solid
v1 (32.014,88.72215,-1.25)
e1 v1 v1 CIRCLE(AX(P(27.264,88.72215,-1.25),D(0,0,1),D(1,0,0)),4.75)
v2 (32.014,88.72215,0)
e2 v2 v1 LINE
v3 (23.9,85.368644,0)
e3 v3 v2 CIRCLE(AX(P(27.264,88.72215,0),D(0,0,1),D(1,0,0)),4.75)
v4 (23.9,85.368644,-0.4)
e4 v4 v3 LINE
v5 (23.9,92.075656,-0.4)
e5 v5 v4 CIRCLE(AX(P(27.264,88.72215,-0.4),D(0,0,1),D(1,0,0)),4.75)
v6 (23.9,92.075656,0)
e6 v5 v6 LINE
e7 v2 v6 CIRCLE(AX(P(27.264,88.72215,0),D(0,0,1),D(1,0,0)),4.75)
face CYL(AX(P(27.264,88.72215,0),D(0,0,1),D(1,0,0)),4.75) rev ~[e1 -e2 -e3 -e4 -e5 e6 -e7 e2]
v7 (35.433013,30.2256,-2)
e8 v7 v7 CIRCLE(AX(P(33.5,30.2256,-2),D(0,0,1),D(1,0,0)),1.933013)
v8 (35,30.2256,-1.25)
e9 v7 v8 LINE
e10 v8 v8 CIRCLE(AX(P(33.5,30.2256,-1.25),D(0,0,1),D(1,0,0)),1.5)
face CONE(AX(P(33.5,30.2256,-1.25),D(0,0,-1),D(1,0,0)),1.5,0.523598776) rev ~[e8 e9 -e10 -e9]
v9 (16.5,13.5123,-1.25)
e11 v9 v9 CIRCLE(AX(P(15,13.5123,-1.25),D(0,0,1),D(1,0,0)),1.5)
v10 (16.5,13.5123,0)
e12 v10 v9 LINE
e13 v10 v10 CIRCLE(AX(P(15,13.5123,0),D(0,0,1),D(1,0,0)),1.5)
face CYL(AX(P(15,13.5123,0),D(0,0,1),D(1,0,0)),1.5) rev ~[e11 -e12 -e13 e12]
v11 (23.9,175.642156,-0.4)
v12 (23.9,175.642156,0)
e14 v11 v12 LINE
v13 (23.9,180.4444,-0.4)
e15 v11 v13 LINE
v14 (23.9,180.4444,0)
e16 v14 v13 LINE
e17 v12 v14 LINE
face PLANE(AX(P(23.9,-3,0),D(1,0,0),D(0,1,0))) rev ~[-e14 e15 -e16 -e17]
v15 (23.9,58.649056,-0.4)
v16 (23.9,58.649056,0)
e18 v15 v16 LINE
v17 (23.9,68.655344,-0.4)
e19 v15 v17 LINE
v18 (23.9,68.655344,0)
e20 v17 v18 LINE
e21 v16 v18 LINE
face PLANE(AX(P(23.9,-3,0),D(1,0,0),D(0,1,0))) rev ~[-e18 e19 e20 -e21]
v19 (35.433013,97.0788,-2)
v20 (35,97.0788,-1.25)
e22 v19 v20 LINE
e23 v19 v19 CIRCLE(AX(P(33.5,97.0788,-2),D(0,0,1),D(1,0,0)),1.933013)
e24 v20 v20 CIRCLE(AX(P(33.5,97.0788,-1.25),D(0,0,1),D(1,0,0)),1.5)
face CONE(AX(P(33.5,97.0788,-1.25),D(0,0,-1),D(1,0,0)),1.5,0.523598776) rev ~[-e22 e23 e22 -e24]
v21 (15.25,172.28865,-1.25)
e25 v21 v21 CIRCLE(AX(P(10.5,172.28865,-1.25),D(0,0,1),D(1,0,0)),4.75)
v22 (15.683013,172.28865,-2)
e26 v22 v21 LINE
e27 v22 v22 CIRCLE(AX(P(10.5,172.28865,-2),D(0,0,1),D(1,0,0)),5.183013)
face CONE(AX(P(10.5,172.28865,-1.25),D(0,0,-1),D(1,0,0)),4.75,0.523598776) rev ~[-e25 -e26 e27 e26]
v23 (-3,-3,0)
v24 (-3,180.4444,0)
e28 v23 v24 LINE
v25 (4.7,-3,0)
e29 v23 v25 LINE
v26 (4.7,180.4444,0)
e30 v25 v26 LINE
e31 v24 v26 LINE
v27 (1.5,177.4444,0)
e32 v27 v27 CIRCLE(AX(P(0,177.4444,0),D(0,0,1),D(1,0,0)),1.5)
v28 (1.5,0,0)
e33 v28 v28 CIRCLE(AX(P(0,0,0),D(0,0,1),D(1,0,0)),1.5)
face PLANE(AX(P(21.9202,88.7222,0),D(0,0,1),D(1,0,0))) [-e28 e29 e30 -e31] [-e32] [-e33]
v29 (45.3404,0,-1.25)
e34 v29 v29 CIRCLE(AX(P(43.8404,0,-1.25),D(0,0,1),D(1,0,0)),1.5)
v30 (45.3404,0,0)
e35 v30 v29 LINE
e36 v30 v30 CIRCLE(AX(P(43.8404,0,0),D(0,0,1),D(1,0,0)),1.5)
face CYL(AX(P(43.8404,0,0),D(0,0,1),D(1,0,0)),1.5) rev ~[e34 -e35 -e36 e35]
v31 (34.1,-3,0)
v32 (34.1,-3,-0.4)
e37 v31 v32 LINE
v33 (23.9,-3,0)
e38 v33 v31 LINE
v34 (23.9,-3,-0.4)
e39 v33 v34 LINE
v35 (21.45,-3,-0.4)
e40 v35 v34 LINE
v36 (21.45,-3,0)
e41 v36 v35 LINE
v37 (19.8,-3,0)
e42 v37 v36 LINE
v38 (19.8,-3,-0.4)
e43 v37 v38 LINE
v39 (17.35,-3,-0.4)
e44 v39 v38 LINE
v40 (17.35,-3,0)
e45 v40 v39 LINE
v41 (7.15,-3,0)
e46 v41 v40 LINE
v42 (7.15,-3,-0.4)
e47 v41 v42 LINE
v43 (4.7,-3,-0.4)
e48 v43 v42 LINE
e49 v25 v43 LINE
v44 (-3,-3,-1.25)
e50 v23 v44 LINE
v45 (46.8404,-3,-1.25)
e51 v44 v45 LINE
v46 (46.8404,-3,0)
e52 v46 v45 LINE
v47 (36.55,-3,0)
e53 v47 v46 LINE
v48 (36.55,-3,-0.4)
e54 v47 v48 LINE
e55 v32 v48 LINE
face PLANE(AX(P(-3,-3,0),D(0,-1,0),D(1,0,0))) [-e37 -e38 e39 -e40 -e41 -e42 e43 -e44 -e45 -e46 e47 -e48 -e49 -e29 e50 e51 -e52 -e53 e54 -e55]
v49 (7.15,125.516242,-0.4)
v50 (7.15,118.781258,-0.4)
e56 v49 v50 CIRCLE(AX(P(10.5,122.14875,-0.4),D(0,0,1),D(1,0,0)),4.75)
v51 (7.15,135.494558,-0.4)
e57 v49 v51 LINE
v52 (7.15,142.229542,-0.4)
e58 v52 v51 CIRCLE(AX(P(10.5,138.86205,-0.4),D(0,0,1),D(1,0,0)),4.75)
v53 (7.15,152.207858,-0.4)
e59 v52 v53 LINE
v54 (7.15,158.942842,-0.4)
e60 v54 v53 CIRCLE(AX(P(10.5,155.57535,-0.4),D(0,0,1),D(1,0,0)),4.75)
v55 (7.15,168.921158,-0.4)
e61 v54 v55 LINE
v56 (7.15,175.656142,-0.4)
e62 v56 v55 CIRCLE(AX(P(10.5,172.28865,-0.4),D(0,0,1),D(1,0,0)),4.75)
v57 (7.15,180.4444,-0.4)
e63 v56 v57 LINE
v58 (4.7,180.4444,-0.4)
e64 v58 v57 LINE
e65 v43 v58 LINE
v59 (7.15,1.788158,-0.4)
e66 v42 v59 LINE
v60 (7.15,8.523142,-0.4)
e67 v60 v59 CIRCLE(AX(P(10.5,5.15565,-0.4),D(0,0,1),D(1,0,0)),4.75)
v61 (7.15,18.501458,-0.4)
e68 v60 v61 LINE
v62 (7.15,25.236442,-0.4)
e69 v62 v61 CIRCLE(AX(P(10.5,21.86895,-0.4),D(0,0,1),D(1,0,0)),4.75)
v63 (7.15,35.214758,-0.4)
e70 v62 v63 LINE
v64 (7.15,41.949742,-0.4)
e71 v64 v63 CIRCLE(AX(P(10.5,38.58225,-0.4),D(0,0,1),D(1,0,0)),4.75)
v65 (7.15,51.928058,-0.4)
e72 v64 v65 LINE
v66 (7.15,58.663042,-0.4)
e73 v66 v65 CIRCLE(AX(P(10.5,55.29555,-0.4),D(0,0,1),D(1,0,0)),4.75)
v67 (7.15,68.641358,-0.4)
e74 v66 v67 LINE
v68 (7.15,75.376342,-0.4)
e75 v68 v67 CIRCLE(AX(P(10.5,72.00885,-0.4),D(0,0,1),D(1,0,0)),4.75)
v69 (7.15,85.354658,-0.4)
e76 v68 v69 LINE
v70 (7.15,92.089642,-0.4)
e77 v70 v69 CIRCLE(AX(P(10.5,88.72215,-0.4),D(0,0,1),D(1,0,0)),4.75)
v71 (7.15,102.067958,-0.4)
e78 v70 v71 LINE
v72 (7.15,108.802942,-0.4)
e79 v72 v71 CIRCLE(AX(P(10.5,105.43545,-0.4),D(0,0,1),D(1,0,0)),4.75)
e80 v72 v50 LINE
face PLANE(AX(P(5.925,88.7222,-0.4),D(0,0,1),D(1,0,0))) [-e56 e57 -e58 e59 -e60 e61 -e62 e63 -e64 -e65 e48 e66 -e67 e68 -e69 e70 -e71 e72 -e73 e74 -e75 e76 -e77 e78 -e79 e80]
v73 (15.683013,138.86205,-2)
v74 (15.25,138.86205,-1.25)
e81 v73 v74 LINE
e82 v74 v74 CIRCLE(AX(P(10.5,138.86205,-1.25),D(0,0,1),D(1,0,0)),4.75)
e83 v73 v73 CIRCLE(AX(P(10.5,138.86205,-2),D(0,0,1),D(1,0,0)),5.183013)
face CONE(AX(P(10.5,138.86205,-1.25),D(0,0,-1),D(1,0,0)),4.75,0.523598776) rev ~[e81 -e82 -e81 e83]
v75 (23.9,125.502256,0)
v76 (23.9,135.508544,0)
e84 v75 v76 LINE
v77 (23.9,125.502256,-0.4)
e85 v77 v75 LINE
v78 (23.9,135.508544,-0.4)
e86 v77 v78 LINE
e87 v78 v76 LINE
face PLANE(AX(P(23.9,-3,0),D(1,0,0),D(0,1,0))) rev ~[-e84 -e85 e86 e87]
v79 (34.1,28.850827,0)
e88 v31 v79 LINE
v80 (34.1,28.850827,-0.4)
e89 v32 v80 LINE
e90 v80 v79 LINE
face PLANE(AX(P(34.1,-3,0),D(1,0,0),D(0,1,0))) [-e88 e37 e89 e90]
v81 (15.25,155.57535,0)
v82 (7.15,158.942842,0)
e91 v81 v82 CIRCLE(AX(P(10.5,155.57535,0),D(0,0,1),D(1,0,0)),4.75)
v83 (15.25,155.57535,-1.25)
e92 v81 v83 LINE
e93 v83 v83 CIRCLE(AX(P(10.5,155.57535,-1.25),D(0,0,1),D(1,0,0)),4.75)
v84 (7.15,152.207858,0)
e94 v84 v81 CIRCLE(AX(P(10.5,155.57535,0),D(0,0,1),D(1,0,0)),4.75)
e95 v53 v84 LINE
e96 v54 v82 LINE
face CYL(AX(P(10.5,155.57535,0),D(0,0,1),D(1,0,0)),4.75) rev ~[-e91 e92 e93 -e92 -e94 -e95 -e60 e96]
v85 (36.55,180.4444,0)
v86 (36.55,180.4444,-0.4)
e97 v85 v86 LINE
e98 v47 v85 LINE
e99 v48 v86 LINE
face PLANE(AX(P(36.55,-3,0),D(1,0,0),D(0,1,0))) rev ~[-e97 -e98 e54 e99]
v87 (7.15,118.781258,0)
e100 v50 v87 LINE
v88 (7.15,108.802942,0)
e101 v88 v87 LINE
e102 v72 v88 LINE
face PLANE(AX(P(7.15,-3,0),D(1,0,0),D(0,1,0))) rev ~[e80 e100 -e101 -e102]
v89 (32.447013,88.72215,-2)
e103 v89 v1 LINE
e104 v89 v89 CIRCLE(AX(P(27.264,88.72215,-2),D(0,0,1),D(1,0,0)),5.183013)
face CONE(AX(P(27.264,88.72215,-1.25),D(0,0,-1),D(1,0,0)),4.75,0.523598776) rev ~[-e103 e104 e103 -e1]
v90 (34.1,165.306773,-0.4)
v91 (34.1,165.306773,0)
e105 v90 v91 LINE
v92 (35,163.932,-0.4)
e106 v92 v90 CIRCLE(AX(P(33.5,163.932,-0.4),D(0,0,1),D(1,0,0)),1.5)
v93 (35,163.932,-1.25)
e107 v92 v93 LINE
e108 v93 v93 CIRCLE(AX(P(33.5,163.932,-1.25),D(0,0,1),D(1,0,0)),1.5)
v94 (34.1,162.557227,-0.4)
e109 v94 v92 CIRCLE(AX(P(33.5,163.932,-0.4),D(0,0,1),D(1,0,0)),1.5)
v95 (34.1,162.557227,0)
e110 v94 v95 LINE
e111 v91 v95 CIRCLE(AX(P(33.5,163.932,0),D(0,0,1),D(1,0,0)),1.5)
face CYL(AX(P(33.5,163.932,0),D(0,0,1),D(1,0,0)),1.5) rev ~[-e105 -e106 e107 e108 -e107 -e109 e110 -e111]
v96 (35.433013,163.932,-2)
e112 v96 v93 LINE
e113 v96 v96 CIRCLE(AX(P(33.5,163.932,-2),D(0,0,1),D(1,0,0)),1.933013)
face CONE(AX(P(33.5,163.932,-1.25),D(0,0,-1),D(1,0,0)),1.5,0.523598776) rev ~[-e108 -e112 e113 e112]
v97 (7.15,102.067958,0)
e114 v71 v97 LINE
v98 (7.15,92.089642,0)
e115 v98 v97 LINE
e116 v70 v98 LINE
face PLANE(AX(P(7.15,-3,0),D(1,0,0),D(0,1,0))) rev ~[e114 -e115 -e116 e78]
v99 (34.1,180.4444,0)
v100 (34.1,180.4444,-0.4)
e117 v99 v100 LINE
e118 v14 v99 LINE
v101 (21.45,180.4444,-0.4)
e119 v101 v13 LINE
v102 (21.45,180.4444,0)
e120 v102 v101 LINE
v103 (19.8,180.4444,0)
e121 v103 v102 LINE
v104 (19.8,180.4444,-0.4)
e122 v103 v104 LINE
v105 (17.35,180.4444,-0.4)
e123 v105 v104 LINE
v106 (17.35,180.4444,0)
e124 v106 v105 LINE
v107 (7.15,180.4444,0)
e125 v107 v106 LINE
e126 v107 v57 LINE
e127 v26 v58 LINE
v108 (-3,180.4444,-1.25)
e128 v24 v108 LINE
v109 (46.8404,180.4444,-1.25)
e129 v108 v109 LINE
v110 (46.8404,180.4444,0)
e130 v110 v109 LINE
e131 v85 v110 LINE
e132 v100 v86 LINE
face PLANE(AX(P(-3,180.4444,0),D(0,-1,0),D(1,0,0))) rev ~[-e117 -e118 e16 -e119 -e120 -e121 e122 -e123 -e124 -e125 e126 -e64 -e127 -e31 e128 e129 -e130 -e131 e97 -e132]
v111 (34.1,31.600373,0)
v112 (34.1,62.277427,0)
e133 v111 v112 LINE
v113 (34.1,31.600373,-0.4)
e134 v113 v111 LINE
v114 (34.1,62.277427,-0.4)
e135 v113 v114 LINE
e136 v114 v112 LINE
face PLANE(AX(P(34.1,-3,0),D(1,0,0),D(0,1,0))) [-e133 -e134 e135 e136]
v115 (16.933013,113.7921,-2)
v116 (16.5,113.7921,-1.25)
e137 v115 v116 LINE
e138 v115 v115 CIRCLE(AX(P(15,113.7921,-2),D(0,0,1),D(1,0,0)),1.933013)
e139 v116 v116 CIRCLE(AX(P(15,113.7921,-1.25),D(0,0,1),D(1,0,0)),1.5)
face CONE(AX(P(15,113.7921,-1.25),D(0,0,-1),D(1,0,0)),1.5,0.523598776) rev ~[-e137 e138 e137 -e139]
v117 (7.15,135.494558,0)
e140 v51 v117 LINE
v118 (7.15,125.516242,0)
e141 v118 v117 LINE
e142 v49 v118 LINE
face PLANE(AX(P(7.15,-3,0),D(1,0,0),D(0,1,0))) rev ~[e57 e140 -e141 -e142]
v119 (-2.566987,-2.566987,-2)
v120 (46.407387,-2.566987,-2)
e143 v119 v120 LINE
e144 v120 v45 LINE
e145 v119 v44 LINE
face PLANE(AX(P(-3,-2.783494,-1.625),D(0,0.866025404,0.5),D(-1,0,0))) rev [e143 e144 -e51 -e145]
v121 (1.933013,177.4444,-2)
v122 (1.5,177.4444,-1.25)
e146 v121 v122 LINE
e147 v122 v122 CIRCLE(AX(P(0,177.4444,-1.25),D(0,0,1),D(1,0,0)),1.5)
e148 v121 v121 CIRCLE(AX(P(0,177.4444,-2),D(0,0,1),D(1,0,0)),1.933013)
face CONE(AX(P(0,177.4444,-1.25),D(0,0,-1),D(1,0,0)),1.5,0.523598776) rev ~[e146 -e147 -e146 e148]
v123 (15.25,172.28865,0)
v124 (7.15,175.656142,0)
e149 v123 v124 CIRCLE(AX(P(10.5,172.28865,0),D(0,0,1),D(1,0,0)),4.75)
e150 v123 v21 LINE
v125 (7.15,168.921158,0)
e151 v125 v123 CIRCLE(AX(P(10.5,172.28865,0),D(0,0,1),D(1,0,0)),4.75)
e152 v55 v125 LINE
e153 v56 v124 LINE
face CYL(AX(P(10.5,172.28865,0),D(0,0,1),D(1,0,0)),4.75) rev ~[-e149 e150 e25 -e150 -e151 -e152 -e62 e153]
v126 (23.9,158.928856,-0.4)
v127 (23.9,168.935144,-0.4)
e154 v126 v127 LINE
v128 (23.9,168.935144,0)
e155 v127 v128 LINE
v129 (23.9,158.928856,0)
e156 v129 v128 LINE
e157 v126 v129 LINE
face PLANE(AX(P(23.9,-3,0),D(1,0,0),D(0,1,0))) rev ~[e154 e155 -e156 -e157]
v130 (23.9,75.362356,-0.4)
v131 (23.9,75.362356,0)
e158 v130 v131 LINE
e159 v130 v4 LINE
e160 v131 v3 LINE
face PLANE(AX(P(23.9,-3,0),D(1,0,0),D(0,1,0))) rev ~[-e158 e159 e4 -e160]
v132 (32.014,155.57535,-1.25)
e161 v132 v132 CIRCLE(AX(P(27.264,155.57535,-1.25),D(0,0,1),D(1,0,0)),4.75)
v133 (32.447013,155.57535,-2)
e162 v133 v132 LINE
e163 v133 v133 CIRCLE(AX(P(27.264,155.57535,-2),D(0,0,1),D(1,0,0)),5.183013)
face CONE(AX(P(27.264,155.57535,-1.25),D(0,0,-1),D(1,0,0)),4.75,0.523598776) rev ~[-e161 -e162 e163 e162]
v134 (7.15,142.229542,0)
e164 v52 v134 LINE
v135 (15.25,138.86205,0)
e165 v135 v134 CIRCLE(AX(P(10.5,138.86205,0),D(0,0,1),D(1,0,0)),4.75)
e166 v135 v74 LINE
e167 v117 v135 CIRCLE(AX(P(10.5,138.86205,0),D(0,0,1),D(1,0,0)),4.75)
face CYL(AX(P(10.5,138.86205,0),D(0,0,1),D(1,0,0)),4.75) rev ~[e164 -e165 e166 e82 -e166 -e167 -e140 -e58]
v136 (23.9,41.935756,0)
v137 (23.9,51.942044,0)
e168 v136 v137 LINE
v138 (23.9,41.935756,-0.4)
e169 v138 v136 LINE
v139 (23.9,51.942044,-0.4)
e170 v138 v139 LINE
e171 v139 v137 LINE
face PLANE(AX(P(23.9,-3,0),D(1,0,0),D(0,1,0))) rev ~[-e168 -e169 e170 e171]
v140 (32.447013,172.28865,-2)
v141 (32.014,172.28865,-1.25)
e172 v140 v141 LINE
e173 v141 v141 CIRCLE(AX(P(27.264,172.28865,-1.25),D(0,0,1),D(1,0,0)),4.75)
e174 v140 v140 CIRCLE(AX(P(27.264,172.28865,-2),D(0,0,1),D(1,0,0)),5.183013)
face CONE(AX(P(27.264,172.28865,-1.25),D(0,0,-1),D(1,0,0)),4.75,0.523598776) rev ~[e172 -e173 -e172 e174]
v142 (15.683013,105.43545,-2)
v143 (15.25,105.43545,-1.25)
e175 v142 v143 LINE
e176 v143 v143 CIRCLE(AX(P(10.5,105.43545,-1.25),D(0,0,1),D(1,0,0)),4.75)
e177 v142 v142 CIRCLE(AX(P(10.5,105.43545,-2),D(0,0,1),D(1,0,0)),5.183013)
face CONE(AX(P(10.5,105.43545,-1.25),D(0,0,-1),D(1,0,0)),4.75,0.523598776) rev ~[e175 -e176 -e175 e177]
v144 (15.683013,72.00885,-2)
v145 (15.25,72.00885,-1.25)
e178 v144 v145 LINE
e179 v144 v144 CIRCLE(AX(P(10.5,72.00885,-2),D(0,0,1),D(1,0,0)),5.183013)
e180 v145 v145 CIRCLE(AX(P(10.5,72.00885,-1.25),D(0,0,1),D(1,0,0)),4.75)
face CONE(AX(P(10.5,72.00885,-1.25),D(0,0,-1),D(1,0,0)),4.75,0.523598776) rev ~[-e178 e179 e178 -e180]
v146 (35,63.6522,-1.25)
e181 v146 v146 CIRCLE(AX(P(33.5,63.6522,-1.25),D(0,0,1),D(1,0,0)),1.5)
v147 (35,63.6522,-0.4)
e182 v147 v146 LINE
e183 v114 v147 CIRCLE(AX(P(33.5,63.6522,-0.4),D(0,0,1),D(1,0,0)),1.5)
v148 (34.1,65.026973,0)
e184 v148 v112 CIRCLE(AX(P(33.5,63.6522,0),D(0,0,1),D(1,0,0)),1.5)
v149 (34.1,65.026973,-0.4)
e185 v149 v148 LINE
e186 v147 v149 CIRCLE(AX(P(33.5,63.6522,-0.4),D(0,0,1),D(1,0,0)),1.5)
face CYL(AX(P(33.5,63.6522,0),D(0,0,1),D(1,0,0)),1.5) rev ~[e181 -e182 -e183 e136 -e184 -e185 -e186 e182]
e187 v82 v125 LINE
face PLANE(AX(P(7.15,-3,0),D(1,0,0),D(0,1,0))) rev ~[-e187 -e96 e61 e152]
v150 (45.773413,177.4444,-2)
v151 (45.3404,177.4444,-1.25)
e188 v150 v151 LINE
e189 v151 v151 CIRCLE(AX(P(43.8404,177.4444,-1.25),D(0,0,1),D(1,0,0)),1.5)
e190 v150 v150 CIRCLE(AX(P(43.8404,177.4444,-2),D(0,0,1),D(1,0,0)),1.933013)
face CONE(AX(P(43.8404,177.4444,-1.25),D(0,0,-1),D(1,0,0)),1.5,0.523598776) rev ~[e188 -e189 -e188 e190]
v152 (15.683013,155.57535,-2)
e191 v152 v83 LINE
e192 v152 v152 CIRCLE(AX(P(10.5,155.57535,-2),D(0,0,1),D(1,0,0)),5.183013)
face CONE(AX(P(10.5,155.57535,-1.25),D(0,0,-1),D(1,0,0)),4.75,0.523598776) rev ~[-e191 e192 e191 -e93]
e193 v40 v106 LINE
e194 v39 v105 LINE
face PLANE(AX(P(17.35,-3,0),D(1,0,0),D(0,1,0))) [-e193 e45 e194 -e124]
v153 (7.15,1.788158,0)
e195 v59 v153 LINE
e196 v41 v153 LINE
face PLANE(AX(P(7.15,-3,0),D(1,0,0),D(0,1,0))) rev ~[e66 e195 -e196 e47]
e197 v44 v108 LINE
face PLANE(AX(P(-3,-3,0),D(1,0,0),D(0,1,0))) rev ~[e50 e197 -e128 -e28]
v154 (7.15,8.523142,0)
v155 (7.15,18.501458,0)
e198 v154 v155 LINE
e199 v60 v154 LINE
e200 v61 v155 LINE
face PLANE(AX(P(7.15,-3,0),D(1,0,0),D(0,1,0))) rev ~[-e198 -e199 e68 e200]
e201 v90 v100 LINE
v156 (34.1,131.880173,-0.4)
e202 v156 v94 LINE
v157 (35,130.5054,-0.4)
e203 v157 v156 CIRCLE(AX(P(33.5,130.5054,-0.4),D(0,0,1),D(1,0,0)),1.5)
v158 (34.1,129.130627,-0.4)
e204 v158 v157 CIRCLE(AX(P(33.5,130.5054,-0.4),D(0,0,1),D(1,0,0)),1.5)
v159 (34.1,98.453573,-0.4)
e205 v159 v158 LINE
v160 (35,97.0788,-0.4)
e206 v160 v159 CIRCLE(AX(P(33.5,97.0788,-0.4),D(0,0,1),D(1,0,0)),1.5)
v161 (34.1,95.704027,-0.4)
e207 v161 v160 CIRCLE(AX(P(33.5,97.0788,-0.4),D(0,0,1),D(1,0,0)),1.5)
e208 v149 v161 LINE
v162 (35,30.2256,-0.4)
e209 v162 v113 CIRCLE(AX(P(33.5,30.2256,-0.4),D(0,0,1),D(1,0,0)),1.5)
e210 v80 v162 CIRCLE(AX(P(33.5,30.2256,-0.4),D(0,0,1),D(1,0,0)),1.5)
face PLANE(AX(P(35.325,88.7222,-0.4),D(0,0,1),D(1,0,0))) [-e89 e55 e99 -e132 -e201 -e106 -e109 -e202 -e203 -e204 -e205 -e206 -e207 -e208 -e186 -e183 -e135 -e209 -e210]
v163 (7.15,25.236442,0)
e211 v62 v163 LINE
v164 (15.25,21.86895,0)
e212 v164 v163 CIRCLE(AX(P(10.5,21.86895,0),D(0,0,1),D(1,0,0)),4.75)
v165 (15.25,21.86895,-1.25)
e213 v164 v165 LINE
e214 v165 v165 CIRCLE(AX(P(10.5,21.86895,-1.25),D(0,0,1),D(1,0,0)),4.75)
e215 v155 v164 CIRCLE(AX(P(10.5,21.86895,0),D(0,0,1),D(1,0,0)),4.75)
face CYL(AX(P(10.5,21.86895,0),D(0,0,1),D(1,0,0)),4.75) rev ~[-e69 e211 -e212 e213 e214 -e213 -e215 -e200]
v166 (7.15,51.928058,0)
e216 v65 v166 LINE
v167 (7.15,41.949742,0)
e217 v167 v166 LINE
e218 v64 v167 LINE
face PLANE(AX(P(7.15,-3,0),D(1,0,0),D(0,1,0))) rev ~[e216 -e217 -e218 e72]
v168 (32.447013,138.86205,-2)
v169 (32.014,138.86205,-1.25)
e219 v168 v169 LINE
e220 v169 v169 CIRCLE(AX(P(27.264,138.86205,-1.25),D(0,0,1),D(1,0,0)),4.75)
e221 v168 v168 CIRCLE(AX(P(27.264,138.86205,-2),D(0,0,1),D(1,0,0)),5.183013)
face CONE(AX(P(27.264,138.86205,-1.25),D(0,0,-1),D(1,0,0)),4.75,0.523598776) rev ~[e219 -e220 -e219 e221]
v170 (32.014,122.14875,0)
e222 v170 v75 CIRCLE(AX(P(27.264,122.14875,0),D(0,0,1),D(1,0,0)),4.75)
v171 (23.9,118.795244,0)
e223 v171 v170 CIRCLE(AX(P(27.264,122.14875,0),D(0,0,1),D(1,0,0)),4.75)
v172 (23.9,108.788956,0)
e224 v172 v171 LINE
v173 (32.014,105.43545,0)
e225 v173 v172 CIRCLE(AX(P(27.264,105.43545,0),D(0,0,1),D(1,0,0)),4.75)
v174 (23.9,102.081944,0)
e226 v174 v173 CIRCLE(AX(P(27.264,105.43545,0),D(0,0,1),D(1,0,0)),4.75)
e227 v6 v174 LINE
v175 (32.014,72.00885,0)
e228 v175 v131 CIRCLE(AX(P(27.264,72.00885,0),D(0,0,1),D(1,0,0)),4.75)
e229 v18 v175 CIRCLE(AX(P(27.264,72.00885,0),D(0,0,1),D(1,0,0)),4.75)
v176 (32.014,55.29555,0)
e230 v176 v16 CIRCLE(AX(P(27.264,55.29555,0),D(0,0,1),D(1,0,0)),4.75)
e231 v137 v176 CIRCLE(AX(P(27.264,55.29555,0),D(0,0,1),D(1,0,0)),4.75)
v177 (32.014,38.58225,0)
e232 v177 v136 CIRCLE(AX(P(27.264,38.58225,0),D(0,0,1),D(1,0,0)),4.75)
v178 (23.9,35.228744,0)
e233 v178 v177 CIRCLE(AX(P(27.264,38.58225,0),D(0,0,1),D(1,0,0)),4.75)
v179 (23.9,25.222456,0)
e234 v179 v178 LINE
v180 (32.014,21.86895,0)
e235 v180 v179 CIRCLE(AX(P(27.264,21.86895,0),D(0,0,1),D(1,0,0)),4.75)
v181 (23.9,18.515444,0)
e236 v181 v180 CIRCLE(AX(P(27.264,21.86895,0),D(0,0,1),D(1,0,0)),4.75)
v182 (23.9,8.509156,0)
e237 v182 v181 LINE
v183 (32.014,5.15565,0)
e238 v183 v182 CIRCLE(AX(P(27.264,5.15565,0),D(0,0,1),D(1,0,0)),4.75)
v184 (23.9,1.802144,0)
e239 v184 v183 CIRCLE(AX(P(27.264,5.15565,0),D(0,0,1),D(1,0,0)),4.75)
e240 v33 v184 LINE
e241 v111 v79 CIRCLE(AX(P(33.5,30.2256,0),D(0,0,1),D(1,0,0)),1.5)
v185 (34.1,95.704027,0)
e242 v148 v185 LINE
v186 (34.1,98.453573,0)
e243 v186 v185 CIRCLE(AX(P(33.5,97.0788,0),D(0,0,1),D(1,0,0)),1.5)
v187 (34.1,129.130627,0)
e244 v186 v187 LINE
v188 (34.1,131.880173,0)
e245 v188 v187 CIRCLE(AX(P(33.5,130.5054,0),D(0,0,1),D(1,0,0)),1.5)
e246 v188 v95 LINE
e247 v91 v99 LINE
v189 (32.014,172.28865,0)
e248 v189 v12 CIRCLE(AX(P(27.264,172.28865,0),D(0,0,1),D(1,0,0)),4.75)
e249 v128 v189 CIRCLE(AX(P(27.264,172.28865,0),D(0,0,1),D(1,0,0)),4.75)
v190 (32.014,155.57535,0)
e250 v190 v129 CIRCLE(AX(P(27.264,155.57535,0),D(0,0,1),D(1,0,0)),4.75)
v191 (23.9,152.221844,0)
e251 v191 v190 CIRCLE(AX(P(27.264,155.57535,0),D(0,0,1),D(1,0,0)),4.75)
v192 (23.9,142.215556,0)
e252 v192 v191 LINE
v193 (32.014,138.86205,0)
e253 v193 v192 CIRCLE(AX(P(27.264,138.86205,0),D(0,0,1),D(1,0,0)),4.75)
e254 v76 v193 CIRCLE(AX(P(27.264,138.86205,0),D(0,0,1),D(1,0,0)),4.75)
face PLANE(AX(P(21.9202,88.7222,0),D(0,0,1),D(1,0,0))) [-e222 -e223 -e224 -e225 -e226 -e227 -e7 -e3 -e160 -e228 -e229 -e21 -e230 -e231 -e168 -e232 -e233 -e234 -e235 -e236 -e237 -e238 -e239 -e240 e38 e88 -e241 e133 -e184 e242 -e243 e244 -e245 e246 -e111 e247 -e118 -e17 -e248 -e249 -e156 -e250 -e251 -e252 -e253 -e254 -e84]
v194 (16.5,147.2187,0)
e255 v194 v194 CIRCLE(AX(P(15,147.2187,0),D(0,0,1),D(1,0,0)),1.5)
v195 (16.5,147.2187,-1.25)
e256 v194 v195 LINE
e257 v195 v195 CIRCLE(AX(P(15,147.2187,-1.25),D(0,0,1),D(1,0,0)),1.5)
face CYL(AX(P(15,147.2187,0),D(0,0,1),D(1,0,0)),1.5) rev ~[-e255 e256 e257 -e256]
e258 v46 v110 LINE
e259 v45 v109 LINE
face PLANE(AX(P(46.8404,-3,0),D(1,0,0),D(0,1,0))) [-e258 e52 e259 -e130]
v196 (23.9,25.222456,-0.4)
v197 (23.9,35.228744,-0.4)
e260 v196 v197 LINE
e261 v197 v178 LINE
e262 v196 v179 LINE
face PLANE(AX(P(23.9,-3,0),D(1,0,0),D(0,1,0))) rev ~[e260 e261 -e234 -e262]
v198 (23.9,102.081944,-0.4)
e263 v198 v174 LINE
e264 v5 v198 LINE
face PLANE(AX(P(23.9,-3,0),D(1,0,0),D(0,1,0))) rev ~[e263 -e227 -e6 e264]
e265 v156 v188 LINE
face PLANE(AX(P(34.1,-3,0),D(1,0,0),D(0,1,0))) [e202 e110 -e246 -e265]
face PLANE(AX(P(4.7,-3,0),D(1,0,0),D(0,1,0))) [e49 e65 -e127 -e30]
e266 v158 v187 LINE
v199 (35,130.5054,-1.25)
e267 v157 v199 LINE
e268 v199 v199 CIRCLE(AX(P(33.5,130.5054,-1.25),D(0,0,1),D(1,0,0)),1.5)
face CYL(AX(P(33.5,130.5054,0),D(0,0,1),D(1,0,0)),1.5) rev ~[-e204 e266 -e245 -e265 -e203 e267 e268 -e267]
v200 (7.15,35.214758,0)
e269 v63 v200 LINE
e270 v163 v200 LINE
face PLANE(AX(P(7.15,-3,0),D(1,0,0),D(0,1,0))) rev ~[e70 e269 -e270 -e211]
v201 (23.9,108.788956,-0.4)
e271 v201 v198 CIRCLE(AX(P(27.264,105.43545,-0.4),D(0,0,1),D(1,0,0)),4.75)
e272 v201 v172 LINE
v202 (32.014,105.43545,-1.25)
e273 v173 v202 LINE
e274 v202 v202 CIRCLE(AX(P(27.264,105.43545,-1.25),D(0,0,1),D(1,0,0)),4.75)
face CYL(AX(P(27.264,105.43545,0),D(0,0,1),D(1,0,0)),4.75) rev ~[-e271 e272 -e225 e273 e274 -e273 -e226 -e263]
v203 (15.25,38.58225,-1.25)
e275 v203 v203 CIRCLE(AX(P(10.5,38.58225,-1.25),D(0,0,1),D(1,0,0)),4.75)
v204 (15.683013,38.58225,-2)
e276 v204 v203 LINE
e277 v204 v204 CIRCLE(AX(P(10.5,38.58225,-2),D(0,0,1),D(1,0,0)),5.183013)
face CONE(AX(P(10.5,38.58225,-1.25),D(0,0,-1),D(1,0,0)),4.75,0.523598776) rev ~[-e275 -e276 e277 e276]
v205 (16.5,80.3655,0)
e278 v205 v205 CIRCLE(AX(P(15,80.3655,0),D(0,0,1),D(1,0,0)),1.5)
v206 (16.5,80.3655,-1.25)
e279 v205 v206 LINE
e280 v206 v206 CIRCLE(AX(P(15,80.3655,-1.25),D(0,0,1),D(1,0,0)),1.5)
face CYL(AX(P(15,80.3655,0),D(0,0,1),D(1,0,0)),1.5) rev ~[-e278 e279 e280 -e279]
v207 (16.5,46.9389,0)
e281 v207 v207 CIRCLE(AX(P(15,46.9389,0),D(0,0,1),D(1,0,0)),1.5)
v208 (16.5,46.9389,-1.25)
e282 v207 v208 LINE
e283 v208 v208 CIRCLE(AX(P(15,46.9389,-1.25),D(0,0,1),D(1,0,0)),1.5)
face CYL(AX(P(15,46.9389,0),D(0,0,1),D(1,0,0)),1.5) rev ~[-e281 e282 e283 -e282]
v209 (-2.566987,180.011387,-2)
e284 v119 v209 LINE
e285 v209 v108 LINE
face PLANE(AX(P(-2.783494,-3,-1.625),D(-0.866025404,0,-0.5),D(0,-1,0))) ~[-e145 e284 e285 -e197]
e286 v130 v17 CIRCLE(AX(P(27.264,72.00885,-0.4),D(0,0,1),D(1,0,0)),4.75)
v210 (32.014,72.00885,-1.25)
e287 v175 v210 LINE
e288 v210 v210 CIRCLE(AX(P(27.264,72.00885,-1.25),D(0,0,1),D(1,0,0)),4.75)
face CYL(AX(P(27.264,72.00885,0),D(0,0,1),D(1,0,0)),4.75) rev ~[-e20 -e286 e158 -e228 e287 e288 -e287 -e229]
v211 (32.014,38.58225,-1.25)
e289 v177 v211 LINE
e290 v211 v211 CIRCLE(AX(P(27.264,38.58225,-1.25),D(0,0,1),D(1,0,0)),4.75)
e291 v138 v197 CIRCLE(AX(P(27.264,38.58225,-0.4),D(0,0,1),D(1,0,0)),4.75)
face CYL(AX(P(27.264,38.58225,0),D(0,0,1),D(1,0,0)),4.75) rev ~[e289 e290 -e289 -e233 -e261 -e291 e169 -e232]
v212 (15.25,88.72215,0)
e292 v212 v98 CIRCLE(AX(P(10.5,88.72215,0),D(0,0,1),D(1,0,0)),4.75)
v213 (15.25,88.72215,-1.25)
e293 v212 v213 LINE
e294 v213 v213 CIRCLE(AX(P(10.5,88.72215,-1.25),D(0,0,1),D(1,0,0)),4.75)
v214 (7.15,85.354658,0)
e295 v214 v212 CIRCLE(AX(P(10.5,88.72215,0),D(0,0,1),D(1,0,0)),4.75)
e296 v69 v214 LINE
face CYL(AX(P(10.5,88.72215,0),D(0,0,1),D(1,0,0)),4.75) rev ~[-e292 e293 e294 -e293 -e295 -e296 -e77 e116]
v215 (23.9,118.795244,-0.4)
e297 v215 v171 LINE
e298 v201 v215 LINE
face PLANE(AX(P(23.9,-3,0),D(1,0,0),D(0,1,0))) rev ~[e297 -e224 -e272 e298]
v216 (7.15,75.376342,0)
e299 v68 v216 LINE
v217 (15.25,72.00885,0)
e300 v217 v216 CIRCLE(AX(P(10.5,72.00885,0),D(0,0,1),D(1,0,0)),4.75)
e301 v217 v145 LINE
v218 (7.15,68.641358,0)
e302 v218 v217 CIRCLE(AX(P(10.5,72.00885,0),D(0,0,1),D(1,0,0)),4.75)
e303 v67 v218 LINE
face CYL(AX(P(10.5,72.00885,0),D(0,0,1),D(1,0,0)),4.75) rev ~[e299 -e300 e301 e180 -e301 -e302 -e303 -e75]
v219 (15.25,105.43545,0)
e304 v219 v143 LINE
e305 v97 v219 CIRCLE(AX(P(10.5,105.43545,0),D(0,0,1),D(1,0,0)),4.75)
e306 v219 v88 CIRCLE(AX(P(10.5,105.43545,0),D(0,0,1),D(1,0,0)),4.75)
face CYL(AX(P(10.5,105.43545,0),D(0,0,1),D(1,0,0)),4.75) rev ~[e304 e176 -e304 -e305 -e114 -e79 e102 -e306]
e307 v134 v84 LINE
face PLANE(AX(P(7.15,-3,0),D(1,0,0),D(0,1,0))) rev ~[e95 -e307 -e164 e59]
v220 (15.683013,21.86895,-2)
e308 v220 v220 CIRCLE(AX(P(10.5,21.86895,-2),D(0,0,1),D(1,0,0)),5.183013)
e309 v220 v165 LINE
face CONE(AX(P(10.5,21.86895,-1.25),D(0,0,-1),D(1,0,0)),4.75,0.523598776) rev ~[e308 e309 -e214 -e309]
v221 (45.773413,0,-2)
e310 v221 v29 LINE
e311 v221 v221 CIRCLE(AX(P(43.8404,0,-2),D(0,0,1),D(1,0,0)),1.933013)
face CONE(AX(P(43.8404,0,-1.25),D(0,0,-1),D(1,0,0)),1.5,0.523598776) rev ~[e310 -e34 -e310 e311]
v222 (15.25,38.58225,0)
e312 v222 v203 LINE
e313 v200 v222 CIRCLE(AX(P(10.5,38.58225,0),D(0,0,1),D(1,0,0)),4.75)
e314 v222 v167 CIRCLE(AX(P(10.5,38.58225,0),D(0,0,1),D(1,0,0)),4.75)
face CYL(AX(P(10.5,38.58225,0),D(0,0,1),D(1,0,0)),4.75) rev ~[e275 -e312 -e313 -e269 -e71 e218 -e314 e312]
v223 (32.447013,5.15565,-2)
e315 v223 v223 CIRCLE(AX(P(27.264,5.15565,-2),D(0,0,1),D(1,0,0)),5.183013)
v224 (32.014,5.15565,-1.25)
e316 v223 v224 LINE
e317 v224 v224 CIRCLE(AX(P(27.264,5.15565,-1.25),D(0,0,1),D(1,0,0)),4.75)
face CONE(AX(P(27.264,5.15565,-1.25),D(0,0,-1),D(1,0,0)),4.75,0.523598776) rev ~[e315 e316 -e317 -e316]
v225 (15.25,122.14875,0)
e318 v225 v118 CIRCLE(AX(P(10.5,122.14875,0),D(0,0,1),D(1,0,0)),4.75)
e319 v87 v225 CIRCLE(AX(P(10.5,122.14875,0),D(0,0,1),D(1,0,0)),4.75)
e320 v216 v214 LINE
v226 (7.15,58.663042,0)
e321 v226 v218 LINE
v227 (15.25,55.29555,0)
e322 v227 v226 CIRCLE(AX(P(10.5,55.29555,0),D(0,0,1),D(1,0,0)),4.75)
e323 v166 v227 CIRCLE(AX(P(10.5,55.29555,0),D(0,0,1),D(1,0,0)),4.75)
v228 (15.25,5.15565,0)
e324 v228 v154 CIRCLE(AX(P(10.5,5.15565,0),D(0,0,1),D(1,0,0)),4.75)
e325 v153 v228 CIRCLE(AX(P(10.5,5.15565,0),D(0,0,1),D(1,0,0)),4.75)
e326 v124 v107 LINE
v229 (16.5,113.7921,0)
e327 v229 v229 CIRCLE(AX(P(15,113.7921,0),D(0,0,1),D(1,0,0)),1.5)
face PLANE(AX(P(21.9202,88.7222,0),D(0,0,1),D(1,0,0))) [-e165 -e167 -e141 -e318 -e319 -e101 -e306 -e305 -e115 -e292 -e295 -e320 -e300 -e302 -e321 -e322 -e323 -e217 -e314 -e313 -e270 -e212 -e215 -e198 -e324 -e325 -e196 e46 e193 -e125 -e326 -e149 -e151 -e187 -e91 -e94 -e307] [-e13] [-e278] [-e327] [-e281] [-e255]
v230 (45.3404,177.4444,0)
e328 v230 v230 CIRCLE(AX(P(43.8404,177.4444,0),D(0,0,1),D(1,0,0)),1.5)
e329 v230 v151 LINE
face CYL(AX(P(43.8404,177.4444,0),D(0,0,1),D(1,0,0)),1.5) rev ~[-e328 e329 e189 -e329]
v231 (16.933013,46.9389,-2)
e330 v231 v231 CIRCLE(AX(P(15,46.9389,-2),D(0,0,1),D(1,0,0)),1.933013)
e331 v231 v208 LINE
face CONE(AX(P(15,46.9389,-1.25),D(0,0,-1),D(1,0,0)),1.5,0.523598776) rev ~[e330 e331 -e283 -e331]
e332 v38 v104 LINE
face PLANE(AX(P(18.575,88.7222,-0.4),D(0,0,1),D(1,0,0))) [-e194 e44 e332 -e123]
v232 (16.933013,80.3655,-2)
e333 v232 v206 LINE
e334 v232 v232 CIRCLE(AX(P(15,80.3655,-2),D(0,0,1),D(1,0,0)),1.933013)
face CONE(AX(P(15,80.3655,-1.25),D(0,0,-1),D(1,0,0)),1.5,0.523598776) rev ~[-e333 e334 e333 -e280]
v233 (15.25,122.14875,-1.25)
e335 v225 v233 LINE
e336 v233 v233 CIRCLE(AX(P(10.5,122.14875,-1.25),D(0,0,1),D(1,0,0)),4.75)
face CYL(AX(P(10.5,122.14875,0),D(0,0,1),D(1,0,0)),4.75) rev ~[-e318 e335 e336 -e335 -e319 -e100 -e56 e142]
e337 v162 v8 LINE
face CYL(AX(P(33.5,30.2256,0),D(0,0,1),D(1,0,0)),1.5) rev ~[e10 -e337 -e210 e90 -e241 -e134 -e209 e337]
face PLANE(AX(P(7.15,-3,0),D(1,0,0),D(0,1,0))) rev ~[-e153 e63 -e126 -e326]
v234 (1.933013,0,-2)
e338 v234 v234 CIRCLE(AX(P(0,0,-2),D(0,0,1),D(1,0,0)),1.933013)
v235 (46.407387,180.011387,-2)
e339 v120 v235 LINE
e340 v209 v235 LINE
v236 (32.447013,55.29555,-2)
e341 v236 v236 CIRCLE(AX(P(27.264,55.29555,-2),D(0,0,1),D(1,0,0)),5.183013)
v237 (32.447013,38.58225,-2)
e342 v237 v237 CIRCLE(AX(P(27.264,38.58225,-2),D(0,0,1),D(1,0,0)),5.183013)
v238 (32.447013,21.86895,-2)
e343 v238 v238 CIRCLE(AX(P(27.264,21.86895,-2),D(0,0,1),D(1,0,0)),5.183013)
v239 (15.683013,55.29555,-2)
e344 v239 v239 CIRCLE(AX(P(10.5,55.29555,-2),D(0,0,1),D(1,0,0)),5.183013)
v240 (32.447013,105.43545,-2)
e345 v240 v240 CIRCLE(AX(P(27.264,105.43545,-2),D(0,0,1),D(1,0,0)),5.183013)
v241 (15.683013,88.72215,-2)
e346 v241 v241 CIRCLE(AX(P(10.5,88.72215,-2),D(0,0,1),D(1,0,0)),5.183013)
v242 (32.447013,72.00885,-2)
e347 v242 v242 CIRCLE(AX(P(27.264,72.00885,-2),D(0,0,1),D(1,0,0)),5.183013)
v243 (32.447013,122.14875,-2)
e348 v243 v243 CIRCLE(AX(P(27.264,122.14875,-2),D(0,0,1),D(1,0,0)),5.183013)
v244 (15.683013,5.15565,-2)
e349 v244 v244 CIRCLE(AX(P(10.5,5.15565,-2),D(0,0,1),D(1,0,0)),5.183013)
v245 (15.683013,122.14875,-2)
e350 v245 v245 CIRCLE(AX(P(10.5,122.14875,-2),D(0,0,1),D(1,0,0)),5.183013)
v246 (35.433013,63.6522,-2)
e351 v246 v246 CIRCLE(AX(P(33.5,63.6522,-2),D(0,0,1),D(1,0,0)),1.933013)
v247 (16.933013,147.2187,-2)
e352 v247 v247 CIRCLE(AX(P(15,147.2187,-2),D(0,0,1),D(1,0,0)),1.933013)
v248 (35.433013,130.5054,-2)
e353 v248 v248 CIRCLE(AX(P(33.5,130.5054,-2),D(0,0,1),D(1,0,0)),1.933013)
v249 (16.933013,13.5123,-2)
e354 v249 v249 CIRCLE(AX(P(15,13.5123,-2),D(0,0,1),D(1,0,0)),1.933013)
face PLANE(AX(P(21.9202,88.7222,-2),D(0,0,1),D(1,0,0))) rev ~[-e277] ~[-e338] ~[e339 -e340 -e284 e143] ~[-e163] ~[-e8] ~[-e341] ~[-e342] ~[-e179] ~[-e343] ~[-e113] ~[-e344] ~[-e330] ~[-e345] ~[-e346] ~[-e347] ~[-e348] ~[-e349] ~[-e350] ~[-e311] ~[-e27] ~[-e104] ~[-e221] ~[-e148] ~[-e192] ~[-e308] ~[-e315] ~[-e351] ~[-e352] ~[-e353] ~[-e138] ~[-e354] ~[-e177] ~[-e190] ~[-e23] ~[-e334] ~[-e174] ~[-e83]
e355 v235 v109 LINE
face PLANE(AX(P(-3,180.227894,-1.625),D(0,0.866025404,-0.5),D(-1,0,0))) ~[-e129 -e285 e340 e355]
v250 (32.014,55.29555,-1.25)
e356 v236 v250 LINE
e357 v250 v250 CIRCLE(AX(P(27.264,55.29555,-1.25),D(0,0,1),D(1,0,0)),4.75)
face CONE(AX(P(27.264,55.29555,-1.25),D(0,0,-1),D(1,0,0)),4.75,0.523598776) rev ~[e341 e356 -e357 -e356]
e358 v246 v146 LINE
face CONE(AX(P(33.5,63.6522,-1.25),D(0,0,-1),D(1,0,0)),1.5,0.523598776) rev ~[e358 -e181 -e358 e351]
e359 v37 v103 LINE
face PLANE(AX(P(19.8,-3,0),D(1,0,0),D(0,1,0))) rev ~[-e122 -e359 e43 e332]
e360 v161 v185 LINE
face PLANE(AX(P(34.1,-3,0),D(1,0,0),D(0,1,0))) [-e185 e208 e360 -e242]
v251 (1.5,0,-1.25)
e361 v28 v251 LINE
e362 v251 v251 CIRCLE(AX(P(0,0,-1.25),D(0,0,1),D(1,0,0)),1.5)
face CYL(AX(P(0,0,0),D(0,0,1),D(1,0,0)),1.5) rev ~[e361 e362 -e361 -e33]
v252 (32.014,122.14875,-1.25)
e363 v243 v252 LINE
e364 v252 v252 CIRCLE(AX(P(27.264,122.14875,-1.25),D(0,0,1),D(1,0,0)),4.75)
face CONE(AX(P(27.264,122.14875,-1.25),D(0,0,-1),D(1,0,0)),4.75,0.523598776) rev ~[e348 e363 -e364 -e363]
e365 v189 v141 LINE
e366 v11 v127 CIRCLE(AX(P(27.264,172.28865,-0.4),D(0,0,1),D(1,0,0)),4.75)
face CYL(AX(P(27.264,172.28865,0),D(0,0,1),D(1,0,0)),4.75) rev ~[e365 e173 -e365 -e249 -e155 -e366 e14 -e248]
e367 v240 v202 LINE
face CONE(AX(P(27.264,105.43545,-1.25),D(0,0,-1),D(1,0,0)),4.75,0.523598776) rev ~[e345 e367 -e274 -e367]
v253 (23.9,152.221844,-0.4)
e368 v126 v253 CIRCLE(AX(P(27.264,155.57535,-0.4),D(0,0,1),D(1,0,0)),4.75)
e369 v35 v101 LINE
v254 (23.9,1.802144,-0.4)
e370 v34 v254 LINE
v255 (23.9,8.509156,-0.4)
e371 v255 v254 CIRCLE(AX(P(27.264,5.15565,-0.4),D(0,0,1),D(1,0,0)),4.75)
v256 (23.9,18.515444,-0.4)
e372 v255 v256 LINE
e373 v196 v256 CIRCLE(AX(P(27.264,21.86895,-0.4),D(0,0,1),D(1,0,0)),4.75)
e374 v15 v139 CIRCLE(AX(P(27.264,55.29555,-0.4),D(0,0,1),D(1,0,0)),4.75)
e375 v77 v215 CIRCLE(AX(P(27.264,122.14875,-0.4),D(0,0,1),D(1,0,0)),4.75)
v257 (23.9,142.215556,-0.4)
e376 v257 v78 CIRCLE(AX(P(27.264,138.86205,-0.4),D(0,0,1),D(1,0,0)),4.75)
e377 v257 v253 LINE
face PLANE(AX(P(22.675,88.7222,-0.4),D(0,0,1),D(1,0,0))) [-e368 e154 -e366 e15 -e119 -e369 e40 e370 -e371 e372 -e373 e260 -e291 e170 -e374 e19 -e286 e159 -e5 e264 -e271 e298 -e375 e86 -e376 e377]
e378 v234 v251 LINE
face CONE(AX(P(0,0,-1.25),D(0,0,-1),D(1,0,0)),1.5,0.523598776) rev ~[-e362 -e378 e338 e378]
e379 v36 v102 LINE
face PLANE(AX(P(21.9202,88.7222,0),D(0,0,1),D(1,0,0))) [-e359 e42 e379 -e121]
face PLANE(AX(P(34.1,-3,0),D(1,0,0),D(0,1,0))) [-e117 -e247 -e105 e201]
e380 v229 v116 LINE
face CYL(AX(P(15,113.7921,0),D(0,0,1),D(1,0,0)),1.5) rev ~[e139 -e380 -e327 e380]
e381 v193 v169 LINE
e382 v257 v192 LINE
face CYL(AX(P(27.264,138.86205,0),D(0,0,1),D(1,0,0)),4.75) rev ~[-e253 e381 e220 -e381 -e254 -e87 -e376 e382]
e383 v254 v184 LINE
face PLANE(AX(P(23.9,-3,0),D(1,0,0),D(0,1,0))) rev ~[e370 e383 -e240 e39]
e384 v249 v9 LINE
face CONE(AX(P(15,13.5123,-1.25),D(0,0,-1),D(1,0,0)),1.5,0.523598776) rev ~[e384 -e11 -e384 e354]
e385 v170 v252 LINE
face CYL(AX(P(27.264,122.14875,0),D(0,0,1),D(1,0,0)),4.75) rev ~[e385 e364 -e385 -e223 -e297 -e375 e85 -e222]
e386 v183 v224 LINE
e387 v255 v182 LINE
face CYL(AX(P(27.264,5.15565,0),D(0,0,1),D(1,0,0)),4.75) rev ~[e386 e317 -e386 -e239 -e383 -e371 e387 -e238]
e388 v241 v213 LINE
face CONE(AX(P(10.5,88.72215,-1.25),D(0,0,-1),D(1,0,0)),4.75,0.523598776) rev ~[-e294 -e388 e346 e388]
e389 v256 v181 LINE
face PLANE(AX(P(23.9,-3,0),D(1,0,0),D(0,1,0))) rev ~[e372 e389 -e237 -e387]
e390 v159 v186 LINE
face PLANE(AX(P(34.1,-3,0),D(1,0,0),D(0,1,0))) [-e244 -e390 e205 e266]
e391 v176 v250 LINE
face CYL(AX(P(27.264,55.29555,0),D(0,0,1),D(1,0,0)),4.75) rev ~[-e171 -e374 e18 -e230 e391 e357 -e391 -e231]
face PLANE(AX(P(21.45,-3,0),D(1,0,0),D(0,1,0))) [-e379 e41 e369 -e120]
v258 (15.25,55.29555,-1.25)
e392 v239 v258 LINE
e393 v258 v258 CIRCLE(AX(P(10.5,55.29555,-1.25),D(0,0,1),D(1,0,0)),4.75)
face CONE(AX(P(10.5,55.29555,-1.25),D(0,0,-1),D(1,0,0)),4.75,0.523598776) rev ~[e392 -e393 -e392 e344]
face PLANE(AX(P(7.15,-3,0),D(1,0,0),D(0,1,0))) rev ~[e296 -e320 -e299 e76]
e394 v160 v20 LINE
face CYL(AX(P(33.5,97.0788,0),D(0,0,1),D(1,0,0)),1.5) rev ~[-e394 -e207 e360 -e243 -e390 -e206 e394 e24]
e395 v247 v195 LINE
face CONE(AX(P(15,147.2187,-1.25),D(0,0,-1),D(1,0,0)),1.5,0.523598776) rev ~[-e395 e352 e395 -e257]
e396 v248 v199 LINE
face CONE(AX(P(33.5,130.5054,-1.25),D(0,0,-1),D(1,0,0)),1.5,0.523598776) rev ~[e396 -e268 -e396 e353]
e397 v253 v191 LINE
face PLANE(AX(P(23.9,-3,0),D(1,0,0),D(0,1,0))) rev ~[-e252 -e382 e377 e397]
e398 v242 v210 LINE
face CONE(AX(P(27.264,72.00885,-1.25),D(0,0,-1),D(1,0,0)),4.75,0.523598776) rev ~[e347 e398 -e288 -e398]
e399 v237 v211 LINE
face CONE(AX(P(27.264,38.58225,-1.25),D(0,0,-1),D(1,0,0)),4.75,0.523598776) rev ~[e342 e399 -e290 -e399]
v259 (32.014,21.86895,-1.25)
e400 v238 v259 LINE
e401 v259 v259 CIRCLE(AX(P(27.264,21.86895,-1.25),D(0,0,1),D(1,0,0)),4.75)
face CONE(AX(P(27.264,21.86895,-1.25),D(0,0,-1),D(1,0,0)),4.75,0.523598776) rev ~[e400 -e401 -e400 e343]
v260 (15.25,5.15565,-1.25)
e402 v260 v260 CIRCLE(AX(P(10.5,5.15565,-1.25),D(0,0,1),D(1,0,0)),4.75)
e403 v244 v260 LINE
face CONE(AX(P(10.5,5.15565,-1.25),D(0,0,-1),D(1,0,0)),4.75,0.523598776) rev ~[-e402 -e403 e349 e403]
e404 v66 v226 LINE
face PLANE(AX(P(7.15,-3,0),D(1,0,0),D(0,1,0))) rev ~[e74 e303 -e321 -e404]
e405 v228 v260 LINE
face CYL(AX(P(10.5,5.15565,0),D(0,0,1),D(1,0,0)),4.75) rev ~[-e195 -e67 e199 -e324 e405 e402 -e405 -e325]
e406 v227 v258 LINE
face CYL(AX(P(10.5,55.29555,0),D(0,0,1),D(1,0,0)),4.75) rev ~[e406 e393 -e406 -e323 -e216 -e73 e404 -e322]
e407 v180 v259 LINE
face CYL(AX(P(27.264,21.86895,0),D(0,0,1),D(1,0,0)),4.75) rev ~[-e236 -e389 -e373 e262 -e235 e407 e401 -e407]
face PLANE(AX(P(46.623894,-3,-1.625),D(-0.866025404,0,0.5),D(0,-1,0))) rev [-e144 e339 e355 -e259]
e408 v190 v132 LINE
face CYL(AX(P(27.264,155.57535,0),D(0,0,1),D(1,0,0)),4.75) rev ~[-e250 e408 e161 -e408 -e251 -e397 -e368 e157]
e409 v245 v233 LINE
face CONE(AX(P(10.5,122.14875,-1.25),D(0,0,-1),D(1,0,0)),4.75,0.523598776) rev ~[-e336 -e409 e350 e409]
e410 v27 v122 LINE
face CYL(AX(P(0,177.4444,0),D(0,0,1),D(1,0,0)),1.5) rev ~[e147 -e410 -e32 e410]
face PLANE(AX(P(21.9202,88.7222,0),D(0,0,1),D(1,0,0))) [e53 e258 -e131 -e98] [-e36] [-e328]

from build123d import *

# Parameters (mm, degrees)
F0_W     = 49.8404
F0_H     = 183.4444
F0_R     = 1.5
F1_DEPTH = 2
F2_R     = 4.75
F2_R_2   = 1.4732
F2_R_3   = 1.5
F3_DEPTH = 25
F4_W     = 2.45
F4_H     = 183.4444
F5_DEPTH = 0.4
F6_SIZE2 = 0.75
F6_SIZE  = 0.4330127019


with BuildPart() as f1:
    # F0 (on Top) → F1 (new body)
    with BuildSketch(Plane.XY):
        with Locations((21.9202, 88.7222)):
            Rectangle(F0_W, F0_H)
        Circle(F0_R, mode=Mode.SUBTRACT)
        with Locations((43.8404, 0)):
            Circle(F0_R, mode=Mode.SUBTRACT)
        with Locations((0, 177.4444)):
            Circle(F0_R, mode=Mode.SUBTRACT)
        with Locations((43.8404, 177.4444)):
            Circle(F0_R, mode=Mode.SUBTRACT)
    extrude(amount=-F1_DEPTH)

    # F2 (on face) → F3 (cut)
    with BuildSketch(Plane.XY):
        with Locations((10.5, 21.86895)):
            Circle(F2_R)
        with Locations((10.5, 5.15565)):
            Circle(F2_R)
        with Locations((27.264, 5.15565)):
            Circle(F2_R)
        with Locations((27.264, 21.86895)):
            Circle(F2_R)
        with Locations((10.5, 55.29555)):
            Circle(F2_R)
        with Locations((27.264, 55.29555)):
            Circle(F2_R)
        with Locations((10.5, 38.58225)):
            Circle(F2_R)
        with Locations((27.264, 38.58225)):
            Circle(F2_R)
        with Locations((10.5, 105.43545)):
            Circle(F2_R)
        with Locations((27.264, 105.43545)):
            Circle(F2_R)
        with Locations((27.264, 122.14875)):
            Circle(F2_R)
        with Locations((10.5, 122.14875)):
            Circle(F2_R)
        with Locations((27.264, 88.72215)):
            Circle(F2_R)
        with Locations((27.264, 72.00885)):
            Circle(F2_R)
        with Locations((10.5, 88.72215)):
            Circle(F2_R)
        with Locations((10.5, 72.00885)):
            Circle(F2_R)
        with Locations((27.264, 138.86205)):
            Circle(F2_R)
        with Locations((27.264, 172.28865)):
            Circle(F2_R)
        with Locations((27.264, 155.57535)):
            Circle(F2_R)
        with Locations((10.5, 138.86205)):
            Circle(F2_R)
        with Locations((10.5, 155.57535)):
            Circle(F2_R)
        with Locations((10.5, 172.28865)):
            Circle(F2_R)
        with Locations((43.8404, 0)):
            Circle(F2_R_2)
        with Locations((0, 177.4444)):
            Circle(F2_R_2)
        with Locations((33.5, 163.932)):
            Circle(F2_R_3)
        with Locations((15, 147.2187)):
            Circle(F2_R_3)
        with Locations((33.5, 130.5054)):
            Circle(F2_R_3)
        with Locations((15, 113.7921)):
            Circle(F2_R_3)
        with Locations((33.5, 97.0788)):
            Circle(F2_R_3)
        with Locations((15, 80.3655)):
            Circle(F2_R_3)
        with Locations((33.5, 63.6522)):
            Circle(F2_R_3)
        with Locations((15, 46.9389)):
            Circle(F2_R_3)
        with Locations((33.5, 30.2256)):
            Circle(F2_R_3)
        with Locations((15, 13.5123)):
            Circle(F2_R_3)
        Circle(F2_R_2)
        with Locations((43.8404, 177.4444)):
            Circle(F2_R_2)
    extrude(amount=-F3_DEPTH, mode=Mode.SUBTRACT)

    # F4 (on face) → F5 (cut)
    with BuildSketch(Plane.XY):
        with Locations((5.925, 88.7222)):
            Rectangle(F4_W, F4_H)
        with Locations((18.575, 88.7222)):
            Rectangle(F4_W, F4_H)
        with Locations((22.675, 88.7222)):
            Rectangle(F4_W, F4_H)
        with Locations((35.325, 88.7222)):
            Rectangle(F4_W, F4_H)
    extrude(amount=-F5_DEPTH, mode=Mode.SUBTRACT)

    # F6
    f6_edges = [f1.edges().sort_by_distance(p)[0] for p in [
        (46.8404, 88.7222, -2),
        (22.514, 5.15565, -2),
        (42.3404, 0, -2),
        (21.9202, -3, -2),
        (-1.5, 0, -2),
        (-3, 88.7222, -2),
        (5.75, 5.15565, -2),
        (13.5, 13.5123, -2),
        (22.514, 21.86895, -2),
        (32, 30.2256, -2),
        (5.75, 21.86895, -2),
        (5.75, 38.58225, -2),
        (22.514, 38.58225, -2),
        (22.514, 55.29555, -2),
        (32, 63.6522, -2),
        (22.514, 72.00885, -2),
        (5.75, 55.29555, -2),
        (13.5, 46.9389, -2),
        (5.75, 72.00885, -2),
        (13.5, 80.3655, -2),
        (22.514, 88.72215, -2),
        (32, 97.0788, -2),
        (5.75, 88.72215, -2),
        (22.514, 105.43545, -2),
        (5.75, 105.43545, -2),
        (13.5, 113.7921, -2),
        (22.514, 122.14875, -2),
        (32, 130.5054, -2),
        (5.75, 122.14875, -2),
        (22.514, 138.86205, -2),
        (5.75, 138.86205, -2),
        (22.514, 155.57535, -2),
        (32, 163.932, -2),
        (5.75, 155.57535, -2),
        (13.5, 147.2187, -2),
        (22.514, 172.28865, -2),
        (5.75, 172.28865, -2),
        (42.3404, 177.4444, -2),
        (21.9202, 180.4444, -2),
        (-1.5, 177.4444, -2),
    ]]
    f6_side = f1.faces().sort_by_distance((-1.099055, 88.7222, -2))[0]
    chamfer(f6_edges, length=F6_SIZE, length2=F6_SIZE2, reference=f6_side)


solid = f1.part
